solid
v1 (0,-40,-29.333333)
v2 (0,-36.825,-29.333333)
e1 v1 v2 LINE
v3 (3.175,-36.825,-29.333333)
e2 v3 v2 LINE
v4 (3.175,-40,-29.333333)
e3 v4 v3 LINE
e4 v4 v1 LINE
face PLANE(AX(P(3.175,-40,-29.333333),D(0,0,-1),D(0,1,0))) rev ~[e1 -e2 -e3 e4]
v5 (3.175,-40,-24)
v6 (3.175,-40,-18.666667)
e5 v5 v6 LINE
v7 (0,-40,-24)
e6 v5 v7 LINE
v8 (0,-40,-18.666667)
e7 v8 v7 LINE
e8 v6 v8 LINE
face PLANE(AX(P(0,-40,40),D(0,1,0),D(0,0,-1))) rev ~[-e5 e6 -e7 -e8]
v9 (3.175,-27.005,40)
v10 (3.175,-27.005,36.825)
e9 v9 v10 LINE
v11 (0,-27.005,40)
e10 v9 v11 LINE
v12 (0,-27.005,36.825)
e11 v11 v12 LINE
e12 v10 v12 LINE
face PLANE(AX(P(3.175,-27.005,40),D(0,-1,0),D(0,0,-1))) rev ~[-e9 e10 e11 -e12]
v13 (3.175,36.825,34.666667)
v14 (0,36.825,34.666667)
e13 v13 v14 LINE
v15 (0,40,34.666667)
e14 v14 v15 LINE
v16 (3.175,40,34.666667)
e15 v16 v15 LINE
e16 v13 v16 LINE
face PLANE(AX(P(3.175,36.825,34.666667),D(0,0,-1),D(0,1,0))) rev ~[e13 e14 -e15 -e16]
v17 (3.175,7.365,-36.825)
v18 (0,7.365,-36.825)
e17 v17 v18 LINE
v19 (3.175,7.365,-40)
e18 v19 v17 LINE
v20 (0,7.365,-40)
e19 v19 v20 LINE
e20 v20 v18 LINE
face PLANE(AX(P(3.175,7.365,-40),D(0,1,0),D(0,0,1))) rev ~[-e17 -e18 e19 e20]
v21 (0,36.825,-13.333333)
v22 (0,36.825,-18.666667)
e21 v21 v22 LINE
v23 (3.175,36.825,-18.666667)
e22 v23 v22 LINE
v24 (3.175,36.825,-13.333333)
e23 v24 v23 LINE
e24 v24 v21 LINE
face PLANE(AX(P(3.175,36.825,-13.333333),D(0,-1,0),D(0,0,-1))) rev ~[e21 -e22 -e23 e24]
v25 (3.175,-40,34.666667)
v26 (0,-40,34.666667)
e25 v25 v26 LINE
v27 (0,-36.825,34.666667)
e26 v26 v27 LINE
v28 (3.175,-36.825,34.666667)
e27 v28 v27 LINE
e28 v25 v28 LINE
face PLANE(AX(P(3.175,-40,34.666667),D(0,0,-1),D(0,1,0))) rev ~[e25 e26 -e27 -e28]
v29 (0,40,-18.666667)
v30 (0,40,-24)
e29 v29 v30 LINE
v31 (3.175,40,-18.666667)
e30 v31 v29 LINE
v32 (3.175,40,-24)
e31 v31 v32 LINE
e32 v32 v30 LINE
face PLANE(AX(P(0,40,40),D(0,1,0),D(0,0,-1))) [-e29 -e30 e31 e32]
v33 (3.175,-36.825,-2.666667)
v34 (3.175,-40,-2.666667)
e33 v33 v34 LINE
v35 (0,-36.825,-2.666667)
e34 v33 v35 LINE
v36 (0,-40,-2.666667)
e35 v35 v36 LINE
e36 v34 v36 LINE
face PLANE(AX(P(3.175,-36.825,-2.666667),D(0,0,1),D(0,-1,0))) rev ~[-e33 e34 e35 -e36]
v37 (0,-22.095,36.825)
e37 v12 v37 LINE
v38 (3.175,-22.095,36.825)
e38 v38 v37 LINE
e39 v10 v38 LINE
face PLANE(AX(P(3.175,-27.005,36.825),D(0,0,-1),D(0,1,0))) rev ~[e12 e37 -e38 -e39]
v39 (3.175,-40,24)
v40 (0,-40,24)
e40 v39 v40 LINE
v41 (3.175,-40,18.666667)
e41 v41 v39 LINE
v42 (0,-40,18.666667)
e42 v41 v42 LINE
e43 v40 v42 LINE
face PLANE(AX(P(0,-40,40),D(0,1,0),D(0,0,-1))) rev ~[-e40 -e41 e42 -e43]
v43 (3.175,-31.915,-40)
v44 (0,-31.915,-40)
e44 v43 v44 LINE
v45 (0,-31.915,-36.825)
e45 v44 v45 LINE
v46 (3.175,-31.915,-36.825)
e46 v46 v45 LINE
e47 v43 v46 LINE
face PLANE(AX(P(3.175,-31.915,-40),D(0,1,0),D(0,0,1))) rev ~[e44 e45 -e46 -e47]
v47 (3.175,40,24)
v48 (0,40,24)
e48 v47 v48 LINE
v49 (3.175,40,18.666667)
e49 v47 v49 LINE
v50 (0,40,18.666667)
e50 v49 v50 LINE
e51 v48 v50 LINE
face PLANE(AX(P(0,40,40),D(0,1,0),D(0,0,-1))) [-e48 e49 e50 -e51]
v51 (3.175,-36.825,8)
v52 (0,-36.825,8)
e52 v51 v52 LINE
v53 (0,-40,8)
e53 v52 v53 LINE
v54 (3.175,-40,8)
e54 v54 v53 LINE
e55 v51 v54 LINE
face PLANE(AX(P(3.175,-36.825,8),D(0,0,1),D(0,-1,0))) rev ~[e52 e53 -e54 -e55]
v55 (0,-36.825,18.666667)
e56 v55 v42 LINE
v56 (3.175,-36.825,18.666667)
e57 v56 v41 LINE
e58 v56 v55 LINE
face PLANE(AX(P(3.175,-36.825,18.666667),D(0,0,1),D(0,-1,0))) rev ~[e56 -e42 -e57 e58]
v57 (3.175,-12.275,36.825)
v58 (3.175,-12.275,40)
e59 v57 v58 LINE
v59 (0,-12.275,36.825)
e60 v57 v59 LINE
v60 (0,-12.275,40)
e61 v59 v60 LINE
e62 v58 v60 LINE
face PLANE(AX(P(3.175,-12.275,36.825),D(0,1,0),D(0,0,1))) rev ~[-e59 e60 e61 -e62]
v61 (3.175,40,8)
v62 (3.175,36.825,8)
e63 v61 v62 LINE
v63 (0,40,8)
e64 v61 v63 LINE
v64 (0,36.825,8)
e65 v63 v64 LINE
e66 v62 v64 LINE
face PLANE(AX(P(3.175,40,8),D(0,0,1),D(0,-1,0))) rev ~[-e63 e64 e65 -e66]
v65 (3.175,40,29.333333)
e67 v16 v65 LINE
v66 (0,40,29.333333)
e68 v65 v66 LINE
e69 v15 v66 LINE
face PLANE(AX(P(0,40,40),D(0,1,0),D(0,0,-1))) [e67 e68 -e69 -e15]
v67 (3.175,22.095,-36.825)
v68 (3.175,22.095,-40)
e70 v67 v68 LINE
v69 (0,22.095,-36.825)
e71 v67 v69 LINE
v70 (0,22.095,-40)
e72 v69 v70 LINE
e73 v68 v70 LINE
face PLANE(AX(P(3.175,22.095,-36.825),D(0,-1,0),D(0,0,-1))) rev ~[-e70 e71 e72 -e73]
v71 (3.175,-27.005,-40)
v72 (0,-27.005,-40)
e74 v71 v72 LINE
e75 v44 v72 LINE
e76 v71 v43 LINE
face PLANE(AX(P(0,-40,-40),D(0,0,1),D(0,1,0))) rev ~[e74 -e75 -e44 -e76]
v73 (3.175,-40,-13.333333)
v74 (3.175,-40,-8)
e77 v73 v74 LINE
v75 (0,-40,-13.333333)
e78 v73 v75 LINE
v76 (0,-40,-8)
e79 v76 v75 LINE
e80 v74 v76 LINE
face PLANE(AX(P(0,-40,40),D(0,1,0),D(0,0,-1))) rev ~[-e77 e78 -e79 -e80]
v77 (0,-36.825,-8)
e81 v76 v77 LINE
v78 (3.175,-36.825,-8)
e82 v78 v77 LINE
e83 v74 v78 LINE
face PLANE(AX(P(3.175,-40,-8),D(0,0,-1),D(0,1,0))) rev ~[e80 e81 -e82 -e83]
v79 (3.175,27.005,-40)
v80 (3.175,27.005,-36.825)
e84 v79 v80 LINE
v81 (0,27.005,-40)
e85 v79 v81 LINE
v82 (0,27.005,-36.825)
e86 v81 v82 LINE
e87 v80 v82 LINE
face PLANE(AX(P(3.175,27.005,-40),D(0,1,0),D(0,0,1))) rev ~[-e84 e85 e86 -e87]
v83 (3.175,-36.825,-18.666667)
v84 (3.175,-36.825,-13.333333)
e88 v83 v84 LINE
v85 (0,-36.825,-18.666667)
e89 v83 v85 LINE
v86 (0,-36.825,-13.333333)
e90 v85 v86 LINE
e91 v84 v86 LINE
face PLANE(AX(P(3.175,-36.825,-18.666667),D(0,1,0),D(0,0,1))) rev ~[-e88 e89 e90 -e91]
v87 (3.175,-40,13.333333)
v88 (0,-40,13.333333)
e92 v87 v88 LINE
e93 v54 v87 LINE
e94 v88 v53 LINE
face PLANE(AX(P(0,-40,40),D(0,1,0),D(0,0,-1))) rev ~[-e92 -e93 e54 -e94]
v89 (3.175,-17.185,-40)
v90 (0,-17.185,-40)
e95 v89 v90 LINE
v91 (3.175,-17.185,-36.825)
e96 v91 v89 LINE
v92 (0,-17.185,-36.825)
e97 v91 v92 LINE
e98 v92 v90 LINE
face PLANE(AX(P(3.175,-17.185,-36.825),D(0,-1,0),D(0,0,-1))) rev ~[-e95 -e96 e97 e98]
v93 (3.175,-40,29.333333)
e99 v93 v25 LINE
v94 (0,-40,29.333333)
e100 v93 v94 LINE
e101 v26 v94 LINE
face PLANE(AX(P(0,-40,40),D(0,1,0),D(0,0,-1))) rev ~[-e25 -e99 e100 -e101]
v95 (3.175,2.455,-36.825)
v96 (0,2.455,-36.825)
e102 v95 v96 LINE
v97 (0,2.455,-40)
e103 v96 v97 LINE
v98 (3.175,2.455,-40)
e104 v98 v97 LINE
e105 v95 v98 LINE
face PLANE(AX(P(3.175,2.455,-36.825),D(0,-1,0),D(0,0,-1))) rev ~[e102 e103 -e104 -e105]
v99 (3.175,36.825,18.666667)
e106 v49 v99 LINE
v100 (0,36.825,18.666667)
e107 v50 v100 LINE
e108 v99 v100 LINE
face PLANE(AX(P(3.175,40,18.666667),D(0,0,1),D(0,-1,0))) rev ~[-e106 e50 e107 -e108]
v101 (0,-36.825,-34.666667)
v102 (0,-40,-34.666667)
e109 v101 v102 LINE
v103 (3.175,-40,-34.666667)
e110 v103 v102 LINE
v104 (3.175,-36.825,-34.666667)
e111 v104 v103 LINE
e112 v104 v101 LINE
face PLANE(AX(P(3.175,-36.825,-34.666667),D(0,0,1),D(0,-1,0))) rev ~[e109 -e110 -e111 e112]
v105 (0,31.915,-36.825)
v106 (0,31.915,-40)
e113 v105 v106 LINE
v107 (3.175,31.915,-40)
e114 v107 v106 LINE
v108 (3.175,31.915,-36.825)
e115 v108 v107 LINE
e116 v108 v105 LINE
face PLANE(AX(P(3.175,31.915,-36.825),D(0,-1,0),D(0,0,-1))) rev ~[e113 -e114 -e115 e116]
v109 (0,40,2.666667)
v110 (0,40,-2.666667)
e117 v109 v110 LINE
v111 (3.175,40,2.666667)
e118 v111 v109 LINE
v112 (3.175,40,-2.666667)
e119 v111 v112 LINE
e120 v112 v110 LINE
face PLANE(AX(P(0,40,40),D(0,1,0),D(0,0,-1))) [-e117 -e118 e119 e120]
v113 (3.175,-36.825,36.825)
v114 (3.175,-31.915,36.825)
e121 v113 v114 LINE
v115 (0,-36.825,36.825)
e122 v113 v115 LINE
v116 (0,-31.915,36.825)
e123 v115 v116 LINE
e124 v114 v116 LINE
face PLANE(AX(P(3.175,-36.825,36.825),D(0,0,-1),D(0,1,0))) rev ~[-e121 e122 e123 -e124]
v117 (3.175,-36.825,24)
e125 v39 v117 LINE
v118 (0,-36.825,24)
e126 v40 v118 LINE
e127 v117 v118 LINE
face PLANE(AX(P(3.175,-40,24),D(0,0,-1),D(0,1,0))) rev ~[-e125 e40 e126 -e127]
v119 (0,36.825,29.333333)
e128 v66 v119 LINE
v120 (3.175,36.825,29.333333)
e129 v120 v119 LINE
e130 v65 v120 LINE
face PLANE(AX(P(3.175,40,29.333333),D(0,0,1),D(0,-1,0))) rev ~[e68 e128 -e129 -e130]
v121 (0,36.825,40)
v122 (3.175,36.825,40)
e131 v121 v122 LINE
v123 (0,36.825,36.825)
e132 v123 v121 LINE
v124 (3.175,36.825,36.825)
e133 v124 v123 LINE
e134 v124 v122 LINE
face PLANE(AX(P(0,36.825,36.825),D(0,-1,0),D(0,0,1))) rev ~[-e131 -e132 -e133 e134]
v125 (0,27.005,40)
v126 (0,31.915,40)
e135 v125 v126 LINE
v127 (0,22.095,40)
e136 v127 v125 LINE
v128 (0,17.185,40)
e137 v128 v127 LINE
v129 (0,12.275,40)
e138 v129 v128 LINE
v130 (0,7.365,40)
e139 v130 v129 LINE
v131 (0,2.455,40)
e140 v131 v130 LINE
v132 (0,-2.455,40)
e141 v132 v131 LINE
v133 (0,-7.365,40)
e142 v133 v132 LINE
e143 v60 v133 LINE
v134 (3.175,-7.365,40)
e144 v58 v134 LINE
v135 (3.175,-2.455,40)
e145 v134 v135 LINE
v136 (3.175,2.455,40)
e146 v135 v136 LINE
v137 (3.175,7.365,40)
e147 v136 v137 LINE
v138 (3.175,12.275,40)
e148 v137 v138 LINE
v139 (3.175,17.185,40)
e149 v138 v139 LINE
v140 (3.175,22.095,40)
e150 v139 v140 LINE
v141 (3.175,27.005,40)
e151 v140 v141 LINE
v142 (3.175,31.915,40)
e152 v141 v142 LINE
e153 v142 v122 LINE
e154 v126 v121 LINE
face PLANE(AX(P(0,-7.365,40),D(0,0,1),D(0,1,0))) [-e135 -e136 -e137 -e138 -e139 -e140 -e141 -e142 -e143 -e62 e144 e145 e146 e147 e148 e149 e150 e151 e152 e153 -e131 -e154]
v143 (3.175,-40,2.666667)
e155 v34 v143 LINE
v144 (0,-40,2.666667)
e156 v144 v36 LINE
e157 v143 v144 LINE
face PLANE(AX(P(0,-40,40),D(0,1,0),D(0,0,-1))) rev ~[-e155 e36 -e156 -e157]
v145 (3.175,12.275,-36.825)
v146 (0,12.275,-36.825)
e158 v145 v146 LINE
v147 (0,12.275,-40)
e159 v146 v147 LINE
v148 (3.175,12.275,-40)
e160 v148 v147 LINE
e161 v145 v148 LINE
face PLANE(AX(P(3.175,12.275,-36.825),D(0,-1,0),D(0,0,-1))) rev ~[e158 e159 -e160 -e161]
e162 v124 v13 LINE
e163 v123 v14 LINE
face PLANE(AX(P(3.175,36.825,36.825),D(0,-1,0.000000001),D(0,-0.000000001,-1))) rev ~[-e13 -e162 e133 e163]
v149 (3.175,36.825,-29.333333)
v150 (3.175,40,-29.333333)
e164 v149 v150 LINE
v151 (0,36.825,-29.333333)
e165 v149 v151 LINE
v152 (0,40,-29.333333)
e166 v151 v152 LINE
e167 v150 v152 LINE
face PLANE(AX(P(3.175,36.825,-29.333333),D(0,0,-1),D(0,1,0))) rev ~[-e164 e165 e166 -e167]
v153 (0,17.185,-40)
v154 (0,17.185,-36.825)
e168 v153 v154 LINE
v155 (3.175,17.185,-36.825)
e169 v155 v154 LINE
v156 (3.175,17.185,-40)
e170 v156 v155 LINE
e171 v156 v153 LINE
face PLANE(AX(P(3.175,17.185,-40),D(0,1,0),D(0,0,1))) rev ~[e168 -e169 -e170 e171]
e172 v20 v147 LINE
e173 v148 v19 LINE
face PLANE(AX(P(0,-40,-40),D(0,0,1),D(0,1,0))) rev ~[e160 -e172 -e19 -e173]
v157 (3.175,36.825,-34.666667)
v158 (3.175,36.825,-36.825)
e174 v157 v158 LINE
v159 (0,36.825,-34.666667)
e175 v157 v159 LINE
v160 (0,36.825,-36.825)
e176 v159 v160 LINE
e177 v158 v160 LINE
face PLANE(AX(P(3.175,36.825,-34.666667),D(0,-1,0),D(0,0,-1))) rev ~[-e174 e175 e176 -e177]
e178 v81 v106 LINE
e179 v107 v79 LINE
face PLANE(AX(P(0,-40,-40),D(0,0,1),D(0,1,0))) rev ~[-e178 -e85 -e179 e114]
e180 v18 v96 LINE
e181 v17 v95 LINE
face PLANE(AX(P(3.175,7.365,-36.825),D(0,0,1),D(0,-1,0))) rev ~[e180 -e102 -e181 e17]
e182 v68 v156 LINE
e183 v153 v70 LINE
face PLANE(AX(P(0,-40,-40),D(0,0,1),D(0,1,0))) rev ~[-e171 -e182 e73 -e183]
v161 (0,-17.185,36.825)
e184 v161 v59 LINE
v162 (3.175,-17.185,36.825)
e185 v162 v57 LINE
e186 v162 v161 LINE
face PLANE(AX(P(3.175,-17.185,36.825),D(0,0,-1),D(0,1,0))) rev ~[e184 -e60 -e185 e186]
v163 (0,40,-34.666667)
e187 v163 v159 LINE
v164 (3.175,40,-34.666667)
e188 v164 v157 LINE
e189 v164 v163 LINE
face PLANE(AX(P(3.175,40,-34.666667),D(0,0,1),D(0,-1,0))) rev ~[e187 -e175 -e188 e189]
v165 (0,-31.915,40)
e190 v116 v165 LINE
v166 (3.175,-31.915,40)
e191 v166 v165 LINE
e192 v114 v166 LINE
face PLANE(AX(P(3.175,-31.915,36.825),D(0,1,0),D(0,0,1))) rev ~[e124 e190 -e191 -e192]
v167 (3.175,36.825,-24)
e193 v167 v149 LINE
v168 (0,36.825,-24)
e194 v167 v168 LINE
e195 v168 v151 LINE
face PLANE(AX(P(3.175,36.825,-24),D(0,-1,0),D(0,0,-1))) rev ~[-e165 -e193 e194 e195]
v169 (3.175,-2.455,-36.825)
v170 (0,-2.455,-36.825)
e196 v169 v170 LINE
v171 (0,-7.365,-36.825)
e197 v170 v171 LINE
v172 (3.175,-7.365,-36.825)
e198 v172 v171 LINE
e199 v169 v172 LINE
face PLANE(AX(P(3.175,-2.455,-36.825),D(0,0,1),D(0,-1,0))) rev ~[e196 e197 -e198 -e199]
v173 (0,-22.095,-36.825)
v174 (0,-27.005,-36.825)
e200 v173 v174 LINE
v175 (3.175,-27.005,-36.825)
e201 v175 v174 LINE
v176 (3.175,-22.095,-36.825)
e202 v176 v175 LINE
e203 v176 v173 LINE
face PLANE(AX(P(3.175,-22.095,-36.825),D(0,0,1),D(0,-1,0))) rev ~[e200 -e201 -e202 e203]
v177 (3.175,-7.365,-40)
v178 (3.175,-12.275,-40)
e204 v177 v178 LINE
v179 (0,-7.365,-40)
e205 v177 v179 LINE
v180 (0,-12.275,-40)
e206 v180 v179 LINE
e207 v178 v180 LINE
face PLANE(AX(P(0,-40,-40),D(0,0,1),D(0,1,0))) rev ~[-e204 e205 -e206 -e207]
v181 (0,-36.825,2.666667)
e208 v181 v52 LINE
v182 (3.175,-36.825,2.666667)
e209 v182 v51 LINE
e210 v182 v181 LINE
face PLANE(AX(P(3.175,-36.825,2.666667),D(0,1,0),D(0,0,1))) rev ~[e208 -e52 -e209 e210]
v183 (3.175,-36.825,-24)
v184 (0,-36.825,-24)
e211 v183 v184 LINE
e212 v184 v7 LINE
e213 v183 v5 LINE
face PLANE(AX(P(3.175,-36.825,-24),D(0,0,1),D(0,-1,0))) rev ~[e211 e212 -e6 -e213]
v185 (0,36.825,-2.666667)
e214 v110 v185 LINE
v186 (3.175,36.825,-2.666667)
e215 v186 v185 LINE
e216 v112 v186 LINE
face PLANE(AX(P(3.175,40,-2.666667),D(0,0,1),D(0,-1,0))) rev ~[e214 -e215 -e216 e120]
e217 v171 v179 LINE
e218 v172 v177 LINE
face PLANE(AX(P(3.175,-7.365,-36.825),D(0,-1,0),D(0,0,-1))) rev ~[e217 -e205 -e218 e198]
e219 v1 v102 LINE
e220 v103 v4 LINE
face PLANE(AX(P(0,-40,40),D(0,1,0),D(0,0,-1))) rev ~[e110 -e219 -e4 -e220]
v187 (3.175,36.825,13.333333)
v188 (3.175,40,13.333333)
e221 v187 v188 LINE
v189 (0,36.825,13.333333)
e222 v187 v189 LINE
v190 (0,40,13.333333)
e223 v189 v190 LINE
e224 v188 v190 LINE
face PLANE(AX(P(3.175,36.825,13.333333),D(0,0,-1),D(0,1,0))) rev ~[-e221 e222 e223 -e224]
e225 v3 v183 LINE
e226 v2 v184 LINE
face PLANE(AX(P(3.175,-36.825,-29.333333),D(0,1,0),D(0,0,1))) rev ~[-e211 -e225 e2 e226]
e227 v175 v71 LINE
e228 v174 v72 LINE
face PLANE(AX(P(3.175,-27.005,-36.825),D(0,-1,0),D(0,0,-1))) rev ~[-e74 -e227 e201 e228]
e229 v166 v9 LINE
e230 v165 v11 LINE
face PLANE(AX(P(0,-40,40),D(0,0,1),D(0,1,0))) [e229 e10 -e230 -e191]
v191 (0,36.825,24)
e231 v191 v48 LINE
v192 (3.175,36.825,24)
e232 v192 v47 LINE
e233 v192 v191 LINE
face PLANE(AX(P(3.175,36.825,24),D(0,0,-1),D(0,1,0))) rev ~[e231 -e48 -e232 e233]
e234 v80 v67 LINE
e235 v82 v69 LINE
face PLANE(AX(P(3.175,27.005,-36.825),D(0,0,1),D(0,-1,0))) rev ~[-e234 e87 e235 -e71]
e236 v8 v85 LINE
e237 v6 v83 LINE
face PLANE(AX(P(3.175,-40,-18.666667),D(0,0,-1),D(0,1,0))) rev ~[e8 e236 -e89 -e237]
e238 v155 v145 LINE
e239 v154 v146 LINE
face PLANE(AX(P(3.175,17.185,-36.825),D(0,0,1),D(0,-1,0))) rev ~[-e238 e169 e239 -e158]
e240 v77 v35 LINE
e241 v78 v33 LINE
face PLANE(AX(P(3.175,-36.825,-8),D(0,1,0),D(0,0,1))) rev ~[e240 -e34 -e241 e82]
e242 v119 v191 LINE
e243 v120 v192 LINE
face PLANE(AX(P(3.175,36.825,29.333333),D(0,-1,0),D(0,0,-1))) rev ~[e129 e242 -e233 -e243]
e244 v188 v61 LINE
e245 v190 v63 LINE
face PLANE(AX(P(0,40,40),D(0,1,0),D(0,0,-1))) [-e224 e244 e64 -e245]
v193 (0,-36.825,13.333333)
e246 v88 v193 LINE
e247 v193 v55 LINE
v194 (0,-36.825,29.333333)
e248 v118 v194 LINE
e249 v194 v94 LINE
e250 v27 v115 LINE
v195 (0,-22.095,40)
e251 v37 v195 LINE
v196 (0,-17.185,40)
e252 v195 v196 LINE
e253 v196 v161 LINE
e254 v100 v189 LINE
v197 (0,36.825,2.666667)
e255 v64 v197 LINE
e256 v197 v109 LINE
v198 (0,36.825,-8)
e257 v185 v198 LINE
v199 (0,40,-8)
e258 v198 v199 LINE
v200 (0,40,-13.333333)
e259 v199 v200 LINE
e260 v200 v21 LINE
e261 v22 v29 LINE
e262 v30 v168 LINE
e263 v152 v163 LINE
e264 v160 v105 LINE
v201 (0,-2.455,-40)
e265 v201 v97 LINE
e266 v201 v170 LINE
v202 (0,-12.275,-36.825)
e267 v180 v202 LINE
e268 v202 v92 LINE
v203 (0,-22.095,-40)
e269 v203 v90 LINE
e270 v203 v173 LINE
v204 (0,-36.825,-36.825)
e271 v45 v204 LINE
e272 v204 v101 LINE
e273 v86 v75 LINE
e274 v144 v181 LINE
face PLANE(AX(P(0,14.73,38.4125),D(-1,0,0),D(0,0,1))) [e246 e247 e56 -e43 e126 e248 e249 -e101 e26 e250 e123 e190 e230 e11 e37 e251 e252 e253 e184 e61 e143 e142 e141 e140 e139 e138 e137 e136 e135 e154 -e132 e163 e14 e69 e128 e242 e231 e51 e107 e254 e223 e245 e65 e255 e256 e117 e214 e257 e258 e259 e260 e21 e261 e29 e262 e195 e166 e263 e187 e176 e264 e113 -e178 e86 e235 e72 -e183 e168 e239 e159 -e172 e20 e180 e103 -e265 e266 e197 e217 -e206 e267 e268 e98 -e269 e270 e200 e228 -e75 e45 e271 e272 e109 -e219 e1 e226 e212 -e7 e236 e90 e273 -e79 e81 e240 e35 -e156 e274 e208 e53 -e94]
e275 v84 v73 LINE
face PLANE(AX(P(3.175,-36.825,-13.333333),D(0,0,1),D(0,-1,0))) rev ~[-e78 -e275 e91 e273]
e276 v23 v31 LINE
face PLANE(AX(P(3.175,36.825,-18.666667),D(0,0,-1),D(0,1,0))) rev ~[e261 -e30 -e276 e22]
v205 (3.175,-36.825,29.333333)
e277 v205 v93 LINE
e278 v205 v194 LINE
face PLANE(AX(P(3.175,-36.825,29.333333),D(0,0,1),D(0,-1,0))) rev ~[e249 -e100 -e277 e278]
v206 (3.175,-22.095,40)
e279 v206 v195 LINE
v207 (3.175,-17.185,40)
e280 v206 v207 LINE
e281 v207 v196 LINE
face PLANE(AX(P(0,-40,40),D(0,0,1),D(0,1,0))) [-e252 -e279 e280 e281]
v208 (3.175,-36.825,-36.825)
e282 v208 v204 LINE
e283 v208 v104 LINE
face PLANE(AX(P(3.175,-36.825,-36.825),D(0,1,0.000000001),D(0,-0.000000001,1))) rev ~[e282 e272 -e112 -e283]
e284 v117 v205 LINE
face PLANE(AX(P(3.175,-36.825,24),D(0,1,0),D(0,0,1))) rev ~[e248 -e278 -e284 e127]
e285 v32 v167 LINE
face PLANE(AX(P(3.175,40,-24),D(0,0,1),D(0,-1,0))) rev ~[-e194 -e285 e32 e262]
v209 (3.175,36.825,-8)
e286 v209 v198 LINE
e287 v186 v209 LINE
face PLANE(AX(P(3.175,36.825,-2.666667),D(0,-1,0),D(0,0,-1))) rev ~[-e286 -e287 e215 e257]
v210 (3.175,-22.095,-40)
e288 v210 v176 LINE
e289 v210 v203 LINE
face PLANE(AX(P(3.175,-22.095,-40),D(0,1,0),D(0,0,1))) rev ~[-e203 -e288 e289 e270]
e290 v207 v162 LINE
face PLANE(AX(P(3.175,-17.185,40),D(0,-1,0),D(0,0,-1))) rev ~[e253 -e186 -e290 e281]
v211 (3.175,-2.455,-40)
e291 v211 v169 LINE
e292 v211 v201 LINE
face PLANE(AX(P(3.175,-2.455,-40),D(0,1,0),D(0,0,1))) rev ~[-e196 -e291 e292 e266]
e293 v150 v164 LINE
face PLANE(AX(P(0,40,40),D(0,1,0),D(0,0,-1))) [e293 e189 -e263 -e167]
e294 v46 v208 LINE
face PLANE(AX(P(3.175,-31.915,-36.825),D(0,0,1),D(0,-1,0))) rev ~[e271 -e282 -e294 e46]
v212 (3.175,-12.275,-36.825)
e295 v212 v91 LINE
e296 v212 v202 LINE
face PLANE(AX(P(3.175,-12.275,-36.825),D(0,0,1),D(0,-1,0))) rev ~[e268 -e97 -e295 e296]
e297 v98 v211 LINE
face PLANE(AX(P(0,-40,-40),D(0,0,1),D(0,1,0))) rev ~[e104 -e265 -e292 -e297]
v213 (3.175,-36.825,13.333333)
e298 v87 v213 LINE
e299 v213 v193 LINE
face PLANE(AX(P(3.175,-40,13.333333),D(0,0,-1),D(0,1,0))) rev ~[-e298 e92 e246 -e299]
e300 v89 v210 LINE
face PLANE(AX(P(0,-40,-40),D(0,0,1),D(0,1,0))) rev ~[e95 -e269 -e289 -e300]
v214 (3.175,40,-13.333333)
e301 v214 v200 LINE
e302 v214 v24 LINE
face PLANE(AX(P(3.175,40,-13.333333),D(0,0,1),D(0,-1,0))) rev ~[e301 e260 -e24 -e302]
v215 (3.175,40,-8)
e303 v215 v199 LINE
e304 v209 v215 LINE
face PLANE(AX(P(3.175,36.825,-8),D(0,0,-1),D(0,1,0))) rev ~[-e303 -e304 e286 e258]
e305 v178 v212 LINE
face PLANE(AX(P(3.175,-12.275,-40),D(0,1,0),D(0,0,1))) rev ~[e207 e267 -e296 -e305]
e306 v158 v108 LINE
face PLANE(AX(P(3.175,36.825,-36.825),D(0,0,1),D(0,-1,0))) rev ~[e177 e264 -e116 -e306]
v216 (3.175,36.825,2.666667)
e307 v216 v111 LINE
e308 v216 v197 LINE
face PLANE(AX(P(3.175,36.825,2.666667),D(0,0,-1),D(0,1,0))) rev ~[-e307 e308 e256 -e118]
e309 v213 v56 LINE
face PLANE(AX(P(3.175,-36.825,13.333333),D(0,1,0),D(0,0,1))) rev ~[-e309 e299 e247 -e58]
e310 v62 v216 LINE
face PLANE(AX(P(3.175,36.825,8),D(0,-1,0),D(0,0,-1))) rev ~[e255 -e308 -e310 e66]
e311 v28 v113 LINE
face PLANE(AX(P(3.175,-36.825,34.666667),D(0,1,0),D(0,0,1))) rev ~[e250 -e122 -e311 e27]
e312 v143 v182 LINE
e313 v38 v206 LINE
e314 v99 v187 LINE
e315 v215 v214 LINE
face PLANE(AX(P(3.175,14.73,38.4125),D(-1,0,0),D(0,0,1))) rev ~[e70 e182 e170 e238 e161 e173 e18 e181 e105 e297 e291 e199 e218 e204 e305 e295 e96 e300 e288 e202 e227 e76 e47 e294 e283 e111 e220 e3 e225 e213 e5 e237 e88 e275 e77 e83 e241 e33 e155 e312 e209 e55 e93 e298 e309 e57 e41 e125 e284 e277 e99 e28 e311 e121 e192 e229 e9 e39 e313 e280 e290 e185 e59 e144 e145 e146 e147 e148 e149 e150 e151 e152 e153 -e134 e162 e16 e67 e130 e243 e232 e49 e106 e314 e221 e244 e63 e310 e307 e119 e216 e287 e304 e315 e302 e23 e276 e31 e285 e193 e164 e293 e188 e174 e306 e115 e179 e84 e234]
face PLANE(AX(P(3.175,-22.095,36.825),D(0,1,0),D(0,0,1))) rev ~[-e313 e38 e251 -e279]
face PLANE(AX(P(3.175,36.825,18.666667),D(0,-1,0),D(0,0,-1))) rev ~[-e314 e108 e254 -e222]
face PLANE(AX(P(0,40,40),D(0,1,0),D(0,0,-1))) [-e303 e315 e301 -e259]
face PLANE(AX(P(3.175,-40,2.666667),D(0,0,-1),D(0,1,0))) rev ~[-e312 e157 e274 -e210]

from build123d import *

# Parameters (mm, degrees)
SKETCH2_W           = 80
SKETCH2_H           = 80
BOSS_EXTRUDE1_DEPTH = 3.175
SKETCH3_OUTSIDE_W   = 104.636
SKETCH3_OUTSIDE_H   = 104.636
CUT_EXTRUDE1_DEPTH  = 57.657573413
SKETCH5_W           = 3.175000001
SKETCH5_H           = 44.189999998
BOSS_EXTRUDE3_DEPTH = 3.175


with BuildPart() as part:
    # Sketch2 → Boss-Extrude1 (new body)
    with BuildSketch(Plane(origin=(0, 0, 0), x_dir=(0, 0, -1), z_dir=(1, 0, 0))):
        Rectangle(SKETCH2_W, SKETCH2_H)
    extrude(amount=BOSS_EXTRUDE1_DEPTH)

    # Sketch3 outside → Cut-Extrude1 (cut, through all)
    with BuildSketch(Plane(origin=(3.175, 0, 0), x_dir=(0, 0, -1), z_dir=(1, 0, 0))):
        Rectangle(SKETCH3_OUTSIDE_W, SKETCH3_OUTSIDE_H)
        Polygon((-36.824999999, 36.825), (-34.666666667, 36.824999997), (-34.666666667, 39.999999997), (-29.333333333, 39.999999997), (-29.333333333, 36.824999997), (-24, 36.824999997), (-24, 40), (-18.666666667, 40), (-18.666666667, 36.825), (-13.333333333, 36.825), (-13.333333333, 40), (-8, 40), (-8, 36.825), (-2.666666667, 36.825), (-2.666666667, 40), (2.666666667, 40), (2.666666667, 36.825), (8, 36.825), (8, 40), (13.333333333, 40), (13.333333333, 36.825), (18.666666667, 36.825), (18.666666667, 40), (24, 40), (24, 36.825), (29.333333333, 36.825), (29.333333333, 40), (34.666666667, 40), (34.666666667, 36.825), (36.824999999, 36.825), (36.824999999, 31.915), (40, 31.915000001), (40, 27.005), (36.824999999, 27.005), (36.824999999, 22.095000001), (40, 22.095000001), (40, 17.185000001), (36.824999999, 17.185000001), (36.824999999, 12.275000001), (40, 12.275000001), (40, 7.365000001), (36.824999999, 7.365000001), (36.824999999, 2.455000001), (40, 2.455000002), (40, -2.454999999), (36.824999999, -2.454999999), (36.824999999, -7.364999998), (40, -7.364999998), (40, -12.274999998), (36.824999999, -12.274999998), (36.824999999, -17.184999998), (40, -17.184999998), (40, -22.094999998), (36.824999999, -22.094999998), (36.824999999, -27.004999998), (40, -27.004999997), (40, -31.914999997), (36.824999999, -31.914999997), (36.824999999, -36.824999997), (34.666666667, -36.825), (34.666666667, -40), (29.333333333, -40), (29.333333333, -36.825), (24, -36.825), (24, -40), (18.666666667, -40), (18.666666667, -36.825), (13.333333333, -36.825), (13.333333333, -40), (8, -40), (8, -36.825), (2.666666667, -36.825), (2.666666667, -40), (-2.666666667, -40), (-2.666666667, -36.825), (-8, -36.825), (-8, -40), (-13.333333333, -40), (-13.333333333, -36.825), (-18.666666667, -36.825), (-18.666666667, -40), (-24, -40), (-24, -36.824999997), (-29.333333333, -36.824999997), (-29.333333333, -39.999999997), (-34.666666667, -39.999999997), (-34.666666667, -36.824999997), (-36.825, -36.824999997), (-36.825, -31.914999997), (-40.000000001, -31.914999997), (-40.000000001, -27.004999997), (-36.825, -27.004999997), (-36.825, -22.094999998), (-40.000000001, -22.094999997), (-40.000000001, -17.184999998), (-36.825, -17.184999998), (-36.825, -12.274999998), (-40.000000001, -12.274999998), (-40, -7.364999998), (-36.825, -7.364999998), (-36.825, -2.454999999), (-40, -2.454999998), (-40, 2.455000002), (-36.825, 2.455000002), (-36.825, 7.365000001), (-40, 7.365000002), (-40, 12.275000001), (-36.825, 12.275000001), (-36.824999999, 17.185000001), (-40, 17.185000002), (-40, 22.095000001), (-36.824999999, 22.095000001), (-36.824999999, 27.005000001), (-40, 27.005000001), (-40, 31.915000001), (-36.824999999, 31.915000001), align=None, mode=Mode.SUBTRACT)
    extrude(amount=-CUT_EXTRUDE1_DEPTH, mode=Mode.SUBTRACT)

    # Sketch5 → Boss-Extrude3 (add)
    with BuildSketch(Plane.ZY):
        with Locations((38.412499999, 14.730000001)):
            Rectangle(SKETCH5_W, SKETCH5_H)
    extrude(amount=-BOSS_EXTRUDE3_DEPTH)


solid = part.part
